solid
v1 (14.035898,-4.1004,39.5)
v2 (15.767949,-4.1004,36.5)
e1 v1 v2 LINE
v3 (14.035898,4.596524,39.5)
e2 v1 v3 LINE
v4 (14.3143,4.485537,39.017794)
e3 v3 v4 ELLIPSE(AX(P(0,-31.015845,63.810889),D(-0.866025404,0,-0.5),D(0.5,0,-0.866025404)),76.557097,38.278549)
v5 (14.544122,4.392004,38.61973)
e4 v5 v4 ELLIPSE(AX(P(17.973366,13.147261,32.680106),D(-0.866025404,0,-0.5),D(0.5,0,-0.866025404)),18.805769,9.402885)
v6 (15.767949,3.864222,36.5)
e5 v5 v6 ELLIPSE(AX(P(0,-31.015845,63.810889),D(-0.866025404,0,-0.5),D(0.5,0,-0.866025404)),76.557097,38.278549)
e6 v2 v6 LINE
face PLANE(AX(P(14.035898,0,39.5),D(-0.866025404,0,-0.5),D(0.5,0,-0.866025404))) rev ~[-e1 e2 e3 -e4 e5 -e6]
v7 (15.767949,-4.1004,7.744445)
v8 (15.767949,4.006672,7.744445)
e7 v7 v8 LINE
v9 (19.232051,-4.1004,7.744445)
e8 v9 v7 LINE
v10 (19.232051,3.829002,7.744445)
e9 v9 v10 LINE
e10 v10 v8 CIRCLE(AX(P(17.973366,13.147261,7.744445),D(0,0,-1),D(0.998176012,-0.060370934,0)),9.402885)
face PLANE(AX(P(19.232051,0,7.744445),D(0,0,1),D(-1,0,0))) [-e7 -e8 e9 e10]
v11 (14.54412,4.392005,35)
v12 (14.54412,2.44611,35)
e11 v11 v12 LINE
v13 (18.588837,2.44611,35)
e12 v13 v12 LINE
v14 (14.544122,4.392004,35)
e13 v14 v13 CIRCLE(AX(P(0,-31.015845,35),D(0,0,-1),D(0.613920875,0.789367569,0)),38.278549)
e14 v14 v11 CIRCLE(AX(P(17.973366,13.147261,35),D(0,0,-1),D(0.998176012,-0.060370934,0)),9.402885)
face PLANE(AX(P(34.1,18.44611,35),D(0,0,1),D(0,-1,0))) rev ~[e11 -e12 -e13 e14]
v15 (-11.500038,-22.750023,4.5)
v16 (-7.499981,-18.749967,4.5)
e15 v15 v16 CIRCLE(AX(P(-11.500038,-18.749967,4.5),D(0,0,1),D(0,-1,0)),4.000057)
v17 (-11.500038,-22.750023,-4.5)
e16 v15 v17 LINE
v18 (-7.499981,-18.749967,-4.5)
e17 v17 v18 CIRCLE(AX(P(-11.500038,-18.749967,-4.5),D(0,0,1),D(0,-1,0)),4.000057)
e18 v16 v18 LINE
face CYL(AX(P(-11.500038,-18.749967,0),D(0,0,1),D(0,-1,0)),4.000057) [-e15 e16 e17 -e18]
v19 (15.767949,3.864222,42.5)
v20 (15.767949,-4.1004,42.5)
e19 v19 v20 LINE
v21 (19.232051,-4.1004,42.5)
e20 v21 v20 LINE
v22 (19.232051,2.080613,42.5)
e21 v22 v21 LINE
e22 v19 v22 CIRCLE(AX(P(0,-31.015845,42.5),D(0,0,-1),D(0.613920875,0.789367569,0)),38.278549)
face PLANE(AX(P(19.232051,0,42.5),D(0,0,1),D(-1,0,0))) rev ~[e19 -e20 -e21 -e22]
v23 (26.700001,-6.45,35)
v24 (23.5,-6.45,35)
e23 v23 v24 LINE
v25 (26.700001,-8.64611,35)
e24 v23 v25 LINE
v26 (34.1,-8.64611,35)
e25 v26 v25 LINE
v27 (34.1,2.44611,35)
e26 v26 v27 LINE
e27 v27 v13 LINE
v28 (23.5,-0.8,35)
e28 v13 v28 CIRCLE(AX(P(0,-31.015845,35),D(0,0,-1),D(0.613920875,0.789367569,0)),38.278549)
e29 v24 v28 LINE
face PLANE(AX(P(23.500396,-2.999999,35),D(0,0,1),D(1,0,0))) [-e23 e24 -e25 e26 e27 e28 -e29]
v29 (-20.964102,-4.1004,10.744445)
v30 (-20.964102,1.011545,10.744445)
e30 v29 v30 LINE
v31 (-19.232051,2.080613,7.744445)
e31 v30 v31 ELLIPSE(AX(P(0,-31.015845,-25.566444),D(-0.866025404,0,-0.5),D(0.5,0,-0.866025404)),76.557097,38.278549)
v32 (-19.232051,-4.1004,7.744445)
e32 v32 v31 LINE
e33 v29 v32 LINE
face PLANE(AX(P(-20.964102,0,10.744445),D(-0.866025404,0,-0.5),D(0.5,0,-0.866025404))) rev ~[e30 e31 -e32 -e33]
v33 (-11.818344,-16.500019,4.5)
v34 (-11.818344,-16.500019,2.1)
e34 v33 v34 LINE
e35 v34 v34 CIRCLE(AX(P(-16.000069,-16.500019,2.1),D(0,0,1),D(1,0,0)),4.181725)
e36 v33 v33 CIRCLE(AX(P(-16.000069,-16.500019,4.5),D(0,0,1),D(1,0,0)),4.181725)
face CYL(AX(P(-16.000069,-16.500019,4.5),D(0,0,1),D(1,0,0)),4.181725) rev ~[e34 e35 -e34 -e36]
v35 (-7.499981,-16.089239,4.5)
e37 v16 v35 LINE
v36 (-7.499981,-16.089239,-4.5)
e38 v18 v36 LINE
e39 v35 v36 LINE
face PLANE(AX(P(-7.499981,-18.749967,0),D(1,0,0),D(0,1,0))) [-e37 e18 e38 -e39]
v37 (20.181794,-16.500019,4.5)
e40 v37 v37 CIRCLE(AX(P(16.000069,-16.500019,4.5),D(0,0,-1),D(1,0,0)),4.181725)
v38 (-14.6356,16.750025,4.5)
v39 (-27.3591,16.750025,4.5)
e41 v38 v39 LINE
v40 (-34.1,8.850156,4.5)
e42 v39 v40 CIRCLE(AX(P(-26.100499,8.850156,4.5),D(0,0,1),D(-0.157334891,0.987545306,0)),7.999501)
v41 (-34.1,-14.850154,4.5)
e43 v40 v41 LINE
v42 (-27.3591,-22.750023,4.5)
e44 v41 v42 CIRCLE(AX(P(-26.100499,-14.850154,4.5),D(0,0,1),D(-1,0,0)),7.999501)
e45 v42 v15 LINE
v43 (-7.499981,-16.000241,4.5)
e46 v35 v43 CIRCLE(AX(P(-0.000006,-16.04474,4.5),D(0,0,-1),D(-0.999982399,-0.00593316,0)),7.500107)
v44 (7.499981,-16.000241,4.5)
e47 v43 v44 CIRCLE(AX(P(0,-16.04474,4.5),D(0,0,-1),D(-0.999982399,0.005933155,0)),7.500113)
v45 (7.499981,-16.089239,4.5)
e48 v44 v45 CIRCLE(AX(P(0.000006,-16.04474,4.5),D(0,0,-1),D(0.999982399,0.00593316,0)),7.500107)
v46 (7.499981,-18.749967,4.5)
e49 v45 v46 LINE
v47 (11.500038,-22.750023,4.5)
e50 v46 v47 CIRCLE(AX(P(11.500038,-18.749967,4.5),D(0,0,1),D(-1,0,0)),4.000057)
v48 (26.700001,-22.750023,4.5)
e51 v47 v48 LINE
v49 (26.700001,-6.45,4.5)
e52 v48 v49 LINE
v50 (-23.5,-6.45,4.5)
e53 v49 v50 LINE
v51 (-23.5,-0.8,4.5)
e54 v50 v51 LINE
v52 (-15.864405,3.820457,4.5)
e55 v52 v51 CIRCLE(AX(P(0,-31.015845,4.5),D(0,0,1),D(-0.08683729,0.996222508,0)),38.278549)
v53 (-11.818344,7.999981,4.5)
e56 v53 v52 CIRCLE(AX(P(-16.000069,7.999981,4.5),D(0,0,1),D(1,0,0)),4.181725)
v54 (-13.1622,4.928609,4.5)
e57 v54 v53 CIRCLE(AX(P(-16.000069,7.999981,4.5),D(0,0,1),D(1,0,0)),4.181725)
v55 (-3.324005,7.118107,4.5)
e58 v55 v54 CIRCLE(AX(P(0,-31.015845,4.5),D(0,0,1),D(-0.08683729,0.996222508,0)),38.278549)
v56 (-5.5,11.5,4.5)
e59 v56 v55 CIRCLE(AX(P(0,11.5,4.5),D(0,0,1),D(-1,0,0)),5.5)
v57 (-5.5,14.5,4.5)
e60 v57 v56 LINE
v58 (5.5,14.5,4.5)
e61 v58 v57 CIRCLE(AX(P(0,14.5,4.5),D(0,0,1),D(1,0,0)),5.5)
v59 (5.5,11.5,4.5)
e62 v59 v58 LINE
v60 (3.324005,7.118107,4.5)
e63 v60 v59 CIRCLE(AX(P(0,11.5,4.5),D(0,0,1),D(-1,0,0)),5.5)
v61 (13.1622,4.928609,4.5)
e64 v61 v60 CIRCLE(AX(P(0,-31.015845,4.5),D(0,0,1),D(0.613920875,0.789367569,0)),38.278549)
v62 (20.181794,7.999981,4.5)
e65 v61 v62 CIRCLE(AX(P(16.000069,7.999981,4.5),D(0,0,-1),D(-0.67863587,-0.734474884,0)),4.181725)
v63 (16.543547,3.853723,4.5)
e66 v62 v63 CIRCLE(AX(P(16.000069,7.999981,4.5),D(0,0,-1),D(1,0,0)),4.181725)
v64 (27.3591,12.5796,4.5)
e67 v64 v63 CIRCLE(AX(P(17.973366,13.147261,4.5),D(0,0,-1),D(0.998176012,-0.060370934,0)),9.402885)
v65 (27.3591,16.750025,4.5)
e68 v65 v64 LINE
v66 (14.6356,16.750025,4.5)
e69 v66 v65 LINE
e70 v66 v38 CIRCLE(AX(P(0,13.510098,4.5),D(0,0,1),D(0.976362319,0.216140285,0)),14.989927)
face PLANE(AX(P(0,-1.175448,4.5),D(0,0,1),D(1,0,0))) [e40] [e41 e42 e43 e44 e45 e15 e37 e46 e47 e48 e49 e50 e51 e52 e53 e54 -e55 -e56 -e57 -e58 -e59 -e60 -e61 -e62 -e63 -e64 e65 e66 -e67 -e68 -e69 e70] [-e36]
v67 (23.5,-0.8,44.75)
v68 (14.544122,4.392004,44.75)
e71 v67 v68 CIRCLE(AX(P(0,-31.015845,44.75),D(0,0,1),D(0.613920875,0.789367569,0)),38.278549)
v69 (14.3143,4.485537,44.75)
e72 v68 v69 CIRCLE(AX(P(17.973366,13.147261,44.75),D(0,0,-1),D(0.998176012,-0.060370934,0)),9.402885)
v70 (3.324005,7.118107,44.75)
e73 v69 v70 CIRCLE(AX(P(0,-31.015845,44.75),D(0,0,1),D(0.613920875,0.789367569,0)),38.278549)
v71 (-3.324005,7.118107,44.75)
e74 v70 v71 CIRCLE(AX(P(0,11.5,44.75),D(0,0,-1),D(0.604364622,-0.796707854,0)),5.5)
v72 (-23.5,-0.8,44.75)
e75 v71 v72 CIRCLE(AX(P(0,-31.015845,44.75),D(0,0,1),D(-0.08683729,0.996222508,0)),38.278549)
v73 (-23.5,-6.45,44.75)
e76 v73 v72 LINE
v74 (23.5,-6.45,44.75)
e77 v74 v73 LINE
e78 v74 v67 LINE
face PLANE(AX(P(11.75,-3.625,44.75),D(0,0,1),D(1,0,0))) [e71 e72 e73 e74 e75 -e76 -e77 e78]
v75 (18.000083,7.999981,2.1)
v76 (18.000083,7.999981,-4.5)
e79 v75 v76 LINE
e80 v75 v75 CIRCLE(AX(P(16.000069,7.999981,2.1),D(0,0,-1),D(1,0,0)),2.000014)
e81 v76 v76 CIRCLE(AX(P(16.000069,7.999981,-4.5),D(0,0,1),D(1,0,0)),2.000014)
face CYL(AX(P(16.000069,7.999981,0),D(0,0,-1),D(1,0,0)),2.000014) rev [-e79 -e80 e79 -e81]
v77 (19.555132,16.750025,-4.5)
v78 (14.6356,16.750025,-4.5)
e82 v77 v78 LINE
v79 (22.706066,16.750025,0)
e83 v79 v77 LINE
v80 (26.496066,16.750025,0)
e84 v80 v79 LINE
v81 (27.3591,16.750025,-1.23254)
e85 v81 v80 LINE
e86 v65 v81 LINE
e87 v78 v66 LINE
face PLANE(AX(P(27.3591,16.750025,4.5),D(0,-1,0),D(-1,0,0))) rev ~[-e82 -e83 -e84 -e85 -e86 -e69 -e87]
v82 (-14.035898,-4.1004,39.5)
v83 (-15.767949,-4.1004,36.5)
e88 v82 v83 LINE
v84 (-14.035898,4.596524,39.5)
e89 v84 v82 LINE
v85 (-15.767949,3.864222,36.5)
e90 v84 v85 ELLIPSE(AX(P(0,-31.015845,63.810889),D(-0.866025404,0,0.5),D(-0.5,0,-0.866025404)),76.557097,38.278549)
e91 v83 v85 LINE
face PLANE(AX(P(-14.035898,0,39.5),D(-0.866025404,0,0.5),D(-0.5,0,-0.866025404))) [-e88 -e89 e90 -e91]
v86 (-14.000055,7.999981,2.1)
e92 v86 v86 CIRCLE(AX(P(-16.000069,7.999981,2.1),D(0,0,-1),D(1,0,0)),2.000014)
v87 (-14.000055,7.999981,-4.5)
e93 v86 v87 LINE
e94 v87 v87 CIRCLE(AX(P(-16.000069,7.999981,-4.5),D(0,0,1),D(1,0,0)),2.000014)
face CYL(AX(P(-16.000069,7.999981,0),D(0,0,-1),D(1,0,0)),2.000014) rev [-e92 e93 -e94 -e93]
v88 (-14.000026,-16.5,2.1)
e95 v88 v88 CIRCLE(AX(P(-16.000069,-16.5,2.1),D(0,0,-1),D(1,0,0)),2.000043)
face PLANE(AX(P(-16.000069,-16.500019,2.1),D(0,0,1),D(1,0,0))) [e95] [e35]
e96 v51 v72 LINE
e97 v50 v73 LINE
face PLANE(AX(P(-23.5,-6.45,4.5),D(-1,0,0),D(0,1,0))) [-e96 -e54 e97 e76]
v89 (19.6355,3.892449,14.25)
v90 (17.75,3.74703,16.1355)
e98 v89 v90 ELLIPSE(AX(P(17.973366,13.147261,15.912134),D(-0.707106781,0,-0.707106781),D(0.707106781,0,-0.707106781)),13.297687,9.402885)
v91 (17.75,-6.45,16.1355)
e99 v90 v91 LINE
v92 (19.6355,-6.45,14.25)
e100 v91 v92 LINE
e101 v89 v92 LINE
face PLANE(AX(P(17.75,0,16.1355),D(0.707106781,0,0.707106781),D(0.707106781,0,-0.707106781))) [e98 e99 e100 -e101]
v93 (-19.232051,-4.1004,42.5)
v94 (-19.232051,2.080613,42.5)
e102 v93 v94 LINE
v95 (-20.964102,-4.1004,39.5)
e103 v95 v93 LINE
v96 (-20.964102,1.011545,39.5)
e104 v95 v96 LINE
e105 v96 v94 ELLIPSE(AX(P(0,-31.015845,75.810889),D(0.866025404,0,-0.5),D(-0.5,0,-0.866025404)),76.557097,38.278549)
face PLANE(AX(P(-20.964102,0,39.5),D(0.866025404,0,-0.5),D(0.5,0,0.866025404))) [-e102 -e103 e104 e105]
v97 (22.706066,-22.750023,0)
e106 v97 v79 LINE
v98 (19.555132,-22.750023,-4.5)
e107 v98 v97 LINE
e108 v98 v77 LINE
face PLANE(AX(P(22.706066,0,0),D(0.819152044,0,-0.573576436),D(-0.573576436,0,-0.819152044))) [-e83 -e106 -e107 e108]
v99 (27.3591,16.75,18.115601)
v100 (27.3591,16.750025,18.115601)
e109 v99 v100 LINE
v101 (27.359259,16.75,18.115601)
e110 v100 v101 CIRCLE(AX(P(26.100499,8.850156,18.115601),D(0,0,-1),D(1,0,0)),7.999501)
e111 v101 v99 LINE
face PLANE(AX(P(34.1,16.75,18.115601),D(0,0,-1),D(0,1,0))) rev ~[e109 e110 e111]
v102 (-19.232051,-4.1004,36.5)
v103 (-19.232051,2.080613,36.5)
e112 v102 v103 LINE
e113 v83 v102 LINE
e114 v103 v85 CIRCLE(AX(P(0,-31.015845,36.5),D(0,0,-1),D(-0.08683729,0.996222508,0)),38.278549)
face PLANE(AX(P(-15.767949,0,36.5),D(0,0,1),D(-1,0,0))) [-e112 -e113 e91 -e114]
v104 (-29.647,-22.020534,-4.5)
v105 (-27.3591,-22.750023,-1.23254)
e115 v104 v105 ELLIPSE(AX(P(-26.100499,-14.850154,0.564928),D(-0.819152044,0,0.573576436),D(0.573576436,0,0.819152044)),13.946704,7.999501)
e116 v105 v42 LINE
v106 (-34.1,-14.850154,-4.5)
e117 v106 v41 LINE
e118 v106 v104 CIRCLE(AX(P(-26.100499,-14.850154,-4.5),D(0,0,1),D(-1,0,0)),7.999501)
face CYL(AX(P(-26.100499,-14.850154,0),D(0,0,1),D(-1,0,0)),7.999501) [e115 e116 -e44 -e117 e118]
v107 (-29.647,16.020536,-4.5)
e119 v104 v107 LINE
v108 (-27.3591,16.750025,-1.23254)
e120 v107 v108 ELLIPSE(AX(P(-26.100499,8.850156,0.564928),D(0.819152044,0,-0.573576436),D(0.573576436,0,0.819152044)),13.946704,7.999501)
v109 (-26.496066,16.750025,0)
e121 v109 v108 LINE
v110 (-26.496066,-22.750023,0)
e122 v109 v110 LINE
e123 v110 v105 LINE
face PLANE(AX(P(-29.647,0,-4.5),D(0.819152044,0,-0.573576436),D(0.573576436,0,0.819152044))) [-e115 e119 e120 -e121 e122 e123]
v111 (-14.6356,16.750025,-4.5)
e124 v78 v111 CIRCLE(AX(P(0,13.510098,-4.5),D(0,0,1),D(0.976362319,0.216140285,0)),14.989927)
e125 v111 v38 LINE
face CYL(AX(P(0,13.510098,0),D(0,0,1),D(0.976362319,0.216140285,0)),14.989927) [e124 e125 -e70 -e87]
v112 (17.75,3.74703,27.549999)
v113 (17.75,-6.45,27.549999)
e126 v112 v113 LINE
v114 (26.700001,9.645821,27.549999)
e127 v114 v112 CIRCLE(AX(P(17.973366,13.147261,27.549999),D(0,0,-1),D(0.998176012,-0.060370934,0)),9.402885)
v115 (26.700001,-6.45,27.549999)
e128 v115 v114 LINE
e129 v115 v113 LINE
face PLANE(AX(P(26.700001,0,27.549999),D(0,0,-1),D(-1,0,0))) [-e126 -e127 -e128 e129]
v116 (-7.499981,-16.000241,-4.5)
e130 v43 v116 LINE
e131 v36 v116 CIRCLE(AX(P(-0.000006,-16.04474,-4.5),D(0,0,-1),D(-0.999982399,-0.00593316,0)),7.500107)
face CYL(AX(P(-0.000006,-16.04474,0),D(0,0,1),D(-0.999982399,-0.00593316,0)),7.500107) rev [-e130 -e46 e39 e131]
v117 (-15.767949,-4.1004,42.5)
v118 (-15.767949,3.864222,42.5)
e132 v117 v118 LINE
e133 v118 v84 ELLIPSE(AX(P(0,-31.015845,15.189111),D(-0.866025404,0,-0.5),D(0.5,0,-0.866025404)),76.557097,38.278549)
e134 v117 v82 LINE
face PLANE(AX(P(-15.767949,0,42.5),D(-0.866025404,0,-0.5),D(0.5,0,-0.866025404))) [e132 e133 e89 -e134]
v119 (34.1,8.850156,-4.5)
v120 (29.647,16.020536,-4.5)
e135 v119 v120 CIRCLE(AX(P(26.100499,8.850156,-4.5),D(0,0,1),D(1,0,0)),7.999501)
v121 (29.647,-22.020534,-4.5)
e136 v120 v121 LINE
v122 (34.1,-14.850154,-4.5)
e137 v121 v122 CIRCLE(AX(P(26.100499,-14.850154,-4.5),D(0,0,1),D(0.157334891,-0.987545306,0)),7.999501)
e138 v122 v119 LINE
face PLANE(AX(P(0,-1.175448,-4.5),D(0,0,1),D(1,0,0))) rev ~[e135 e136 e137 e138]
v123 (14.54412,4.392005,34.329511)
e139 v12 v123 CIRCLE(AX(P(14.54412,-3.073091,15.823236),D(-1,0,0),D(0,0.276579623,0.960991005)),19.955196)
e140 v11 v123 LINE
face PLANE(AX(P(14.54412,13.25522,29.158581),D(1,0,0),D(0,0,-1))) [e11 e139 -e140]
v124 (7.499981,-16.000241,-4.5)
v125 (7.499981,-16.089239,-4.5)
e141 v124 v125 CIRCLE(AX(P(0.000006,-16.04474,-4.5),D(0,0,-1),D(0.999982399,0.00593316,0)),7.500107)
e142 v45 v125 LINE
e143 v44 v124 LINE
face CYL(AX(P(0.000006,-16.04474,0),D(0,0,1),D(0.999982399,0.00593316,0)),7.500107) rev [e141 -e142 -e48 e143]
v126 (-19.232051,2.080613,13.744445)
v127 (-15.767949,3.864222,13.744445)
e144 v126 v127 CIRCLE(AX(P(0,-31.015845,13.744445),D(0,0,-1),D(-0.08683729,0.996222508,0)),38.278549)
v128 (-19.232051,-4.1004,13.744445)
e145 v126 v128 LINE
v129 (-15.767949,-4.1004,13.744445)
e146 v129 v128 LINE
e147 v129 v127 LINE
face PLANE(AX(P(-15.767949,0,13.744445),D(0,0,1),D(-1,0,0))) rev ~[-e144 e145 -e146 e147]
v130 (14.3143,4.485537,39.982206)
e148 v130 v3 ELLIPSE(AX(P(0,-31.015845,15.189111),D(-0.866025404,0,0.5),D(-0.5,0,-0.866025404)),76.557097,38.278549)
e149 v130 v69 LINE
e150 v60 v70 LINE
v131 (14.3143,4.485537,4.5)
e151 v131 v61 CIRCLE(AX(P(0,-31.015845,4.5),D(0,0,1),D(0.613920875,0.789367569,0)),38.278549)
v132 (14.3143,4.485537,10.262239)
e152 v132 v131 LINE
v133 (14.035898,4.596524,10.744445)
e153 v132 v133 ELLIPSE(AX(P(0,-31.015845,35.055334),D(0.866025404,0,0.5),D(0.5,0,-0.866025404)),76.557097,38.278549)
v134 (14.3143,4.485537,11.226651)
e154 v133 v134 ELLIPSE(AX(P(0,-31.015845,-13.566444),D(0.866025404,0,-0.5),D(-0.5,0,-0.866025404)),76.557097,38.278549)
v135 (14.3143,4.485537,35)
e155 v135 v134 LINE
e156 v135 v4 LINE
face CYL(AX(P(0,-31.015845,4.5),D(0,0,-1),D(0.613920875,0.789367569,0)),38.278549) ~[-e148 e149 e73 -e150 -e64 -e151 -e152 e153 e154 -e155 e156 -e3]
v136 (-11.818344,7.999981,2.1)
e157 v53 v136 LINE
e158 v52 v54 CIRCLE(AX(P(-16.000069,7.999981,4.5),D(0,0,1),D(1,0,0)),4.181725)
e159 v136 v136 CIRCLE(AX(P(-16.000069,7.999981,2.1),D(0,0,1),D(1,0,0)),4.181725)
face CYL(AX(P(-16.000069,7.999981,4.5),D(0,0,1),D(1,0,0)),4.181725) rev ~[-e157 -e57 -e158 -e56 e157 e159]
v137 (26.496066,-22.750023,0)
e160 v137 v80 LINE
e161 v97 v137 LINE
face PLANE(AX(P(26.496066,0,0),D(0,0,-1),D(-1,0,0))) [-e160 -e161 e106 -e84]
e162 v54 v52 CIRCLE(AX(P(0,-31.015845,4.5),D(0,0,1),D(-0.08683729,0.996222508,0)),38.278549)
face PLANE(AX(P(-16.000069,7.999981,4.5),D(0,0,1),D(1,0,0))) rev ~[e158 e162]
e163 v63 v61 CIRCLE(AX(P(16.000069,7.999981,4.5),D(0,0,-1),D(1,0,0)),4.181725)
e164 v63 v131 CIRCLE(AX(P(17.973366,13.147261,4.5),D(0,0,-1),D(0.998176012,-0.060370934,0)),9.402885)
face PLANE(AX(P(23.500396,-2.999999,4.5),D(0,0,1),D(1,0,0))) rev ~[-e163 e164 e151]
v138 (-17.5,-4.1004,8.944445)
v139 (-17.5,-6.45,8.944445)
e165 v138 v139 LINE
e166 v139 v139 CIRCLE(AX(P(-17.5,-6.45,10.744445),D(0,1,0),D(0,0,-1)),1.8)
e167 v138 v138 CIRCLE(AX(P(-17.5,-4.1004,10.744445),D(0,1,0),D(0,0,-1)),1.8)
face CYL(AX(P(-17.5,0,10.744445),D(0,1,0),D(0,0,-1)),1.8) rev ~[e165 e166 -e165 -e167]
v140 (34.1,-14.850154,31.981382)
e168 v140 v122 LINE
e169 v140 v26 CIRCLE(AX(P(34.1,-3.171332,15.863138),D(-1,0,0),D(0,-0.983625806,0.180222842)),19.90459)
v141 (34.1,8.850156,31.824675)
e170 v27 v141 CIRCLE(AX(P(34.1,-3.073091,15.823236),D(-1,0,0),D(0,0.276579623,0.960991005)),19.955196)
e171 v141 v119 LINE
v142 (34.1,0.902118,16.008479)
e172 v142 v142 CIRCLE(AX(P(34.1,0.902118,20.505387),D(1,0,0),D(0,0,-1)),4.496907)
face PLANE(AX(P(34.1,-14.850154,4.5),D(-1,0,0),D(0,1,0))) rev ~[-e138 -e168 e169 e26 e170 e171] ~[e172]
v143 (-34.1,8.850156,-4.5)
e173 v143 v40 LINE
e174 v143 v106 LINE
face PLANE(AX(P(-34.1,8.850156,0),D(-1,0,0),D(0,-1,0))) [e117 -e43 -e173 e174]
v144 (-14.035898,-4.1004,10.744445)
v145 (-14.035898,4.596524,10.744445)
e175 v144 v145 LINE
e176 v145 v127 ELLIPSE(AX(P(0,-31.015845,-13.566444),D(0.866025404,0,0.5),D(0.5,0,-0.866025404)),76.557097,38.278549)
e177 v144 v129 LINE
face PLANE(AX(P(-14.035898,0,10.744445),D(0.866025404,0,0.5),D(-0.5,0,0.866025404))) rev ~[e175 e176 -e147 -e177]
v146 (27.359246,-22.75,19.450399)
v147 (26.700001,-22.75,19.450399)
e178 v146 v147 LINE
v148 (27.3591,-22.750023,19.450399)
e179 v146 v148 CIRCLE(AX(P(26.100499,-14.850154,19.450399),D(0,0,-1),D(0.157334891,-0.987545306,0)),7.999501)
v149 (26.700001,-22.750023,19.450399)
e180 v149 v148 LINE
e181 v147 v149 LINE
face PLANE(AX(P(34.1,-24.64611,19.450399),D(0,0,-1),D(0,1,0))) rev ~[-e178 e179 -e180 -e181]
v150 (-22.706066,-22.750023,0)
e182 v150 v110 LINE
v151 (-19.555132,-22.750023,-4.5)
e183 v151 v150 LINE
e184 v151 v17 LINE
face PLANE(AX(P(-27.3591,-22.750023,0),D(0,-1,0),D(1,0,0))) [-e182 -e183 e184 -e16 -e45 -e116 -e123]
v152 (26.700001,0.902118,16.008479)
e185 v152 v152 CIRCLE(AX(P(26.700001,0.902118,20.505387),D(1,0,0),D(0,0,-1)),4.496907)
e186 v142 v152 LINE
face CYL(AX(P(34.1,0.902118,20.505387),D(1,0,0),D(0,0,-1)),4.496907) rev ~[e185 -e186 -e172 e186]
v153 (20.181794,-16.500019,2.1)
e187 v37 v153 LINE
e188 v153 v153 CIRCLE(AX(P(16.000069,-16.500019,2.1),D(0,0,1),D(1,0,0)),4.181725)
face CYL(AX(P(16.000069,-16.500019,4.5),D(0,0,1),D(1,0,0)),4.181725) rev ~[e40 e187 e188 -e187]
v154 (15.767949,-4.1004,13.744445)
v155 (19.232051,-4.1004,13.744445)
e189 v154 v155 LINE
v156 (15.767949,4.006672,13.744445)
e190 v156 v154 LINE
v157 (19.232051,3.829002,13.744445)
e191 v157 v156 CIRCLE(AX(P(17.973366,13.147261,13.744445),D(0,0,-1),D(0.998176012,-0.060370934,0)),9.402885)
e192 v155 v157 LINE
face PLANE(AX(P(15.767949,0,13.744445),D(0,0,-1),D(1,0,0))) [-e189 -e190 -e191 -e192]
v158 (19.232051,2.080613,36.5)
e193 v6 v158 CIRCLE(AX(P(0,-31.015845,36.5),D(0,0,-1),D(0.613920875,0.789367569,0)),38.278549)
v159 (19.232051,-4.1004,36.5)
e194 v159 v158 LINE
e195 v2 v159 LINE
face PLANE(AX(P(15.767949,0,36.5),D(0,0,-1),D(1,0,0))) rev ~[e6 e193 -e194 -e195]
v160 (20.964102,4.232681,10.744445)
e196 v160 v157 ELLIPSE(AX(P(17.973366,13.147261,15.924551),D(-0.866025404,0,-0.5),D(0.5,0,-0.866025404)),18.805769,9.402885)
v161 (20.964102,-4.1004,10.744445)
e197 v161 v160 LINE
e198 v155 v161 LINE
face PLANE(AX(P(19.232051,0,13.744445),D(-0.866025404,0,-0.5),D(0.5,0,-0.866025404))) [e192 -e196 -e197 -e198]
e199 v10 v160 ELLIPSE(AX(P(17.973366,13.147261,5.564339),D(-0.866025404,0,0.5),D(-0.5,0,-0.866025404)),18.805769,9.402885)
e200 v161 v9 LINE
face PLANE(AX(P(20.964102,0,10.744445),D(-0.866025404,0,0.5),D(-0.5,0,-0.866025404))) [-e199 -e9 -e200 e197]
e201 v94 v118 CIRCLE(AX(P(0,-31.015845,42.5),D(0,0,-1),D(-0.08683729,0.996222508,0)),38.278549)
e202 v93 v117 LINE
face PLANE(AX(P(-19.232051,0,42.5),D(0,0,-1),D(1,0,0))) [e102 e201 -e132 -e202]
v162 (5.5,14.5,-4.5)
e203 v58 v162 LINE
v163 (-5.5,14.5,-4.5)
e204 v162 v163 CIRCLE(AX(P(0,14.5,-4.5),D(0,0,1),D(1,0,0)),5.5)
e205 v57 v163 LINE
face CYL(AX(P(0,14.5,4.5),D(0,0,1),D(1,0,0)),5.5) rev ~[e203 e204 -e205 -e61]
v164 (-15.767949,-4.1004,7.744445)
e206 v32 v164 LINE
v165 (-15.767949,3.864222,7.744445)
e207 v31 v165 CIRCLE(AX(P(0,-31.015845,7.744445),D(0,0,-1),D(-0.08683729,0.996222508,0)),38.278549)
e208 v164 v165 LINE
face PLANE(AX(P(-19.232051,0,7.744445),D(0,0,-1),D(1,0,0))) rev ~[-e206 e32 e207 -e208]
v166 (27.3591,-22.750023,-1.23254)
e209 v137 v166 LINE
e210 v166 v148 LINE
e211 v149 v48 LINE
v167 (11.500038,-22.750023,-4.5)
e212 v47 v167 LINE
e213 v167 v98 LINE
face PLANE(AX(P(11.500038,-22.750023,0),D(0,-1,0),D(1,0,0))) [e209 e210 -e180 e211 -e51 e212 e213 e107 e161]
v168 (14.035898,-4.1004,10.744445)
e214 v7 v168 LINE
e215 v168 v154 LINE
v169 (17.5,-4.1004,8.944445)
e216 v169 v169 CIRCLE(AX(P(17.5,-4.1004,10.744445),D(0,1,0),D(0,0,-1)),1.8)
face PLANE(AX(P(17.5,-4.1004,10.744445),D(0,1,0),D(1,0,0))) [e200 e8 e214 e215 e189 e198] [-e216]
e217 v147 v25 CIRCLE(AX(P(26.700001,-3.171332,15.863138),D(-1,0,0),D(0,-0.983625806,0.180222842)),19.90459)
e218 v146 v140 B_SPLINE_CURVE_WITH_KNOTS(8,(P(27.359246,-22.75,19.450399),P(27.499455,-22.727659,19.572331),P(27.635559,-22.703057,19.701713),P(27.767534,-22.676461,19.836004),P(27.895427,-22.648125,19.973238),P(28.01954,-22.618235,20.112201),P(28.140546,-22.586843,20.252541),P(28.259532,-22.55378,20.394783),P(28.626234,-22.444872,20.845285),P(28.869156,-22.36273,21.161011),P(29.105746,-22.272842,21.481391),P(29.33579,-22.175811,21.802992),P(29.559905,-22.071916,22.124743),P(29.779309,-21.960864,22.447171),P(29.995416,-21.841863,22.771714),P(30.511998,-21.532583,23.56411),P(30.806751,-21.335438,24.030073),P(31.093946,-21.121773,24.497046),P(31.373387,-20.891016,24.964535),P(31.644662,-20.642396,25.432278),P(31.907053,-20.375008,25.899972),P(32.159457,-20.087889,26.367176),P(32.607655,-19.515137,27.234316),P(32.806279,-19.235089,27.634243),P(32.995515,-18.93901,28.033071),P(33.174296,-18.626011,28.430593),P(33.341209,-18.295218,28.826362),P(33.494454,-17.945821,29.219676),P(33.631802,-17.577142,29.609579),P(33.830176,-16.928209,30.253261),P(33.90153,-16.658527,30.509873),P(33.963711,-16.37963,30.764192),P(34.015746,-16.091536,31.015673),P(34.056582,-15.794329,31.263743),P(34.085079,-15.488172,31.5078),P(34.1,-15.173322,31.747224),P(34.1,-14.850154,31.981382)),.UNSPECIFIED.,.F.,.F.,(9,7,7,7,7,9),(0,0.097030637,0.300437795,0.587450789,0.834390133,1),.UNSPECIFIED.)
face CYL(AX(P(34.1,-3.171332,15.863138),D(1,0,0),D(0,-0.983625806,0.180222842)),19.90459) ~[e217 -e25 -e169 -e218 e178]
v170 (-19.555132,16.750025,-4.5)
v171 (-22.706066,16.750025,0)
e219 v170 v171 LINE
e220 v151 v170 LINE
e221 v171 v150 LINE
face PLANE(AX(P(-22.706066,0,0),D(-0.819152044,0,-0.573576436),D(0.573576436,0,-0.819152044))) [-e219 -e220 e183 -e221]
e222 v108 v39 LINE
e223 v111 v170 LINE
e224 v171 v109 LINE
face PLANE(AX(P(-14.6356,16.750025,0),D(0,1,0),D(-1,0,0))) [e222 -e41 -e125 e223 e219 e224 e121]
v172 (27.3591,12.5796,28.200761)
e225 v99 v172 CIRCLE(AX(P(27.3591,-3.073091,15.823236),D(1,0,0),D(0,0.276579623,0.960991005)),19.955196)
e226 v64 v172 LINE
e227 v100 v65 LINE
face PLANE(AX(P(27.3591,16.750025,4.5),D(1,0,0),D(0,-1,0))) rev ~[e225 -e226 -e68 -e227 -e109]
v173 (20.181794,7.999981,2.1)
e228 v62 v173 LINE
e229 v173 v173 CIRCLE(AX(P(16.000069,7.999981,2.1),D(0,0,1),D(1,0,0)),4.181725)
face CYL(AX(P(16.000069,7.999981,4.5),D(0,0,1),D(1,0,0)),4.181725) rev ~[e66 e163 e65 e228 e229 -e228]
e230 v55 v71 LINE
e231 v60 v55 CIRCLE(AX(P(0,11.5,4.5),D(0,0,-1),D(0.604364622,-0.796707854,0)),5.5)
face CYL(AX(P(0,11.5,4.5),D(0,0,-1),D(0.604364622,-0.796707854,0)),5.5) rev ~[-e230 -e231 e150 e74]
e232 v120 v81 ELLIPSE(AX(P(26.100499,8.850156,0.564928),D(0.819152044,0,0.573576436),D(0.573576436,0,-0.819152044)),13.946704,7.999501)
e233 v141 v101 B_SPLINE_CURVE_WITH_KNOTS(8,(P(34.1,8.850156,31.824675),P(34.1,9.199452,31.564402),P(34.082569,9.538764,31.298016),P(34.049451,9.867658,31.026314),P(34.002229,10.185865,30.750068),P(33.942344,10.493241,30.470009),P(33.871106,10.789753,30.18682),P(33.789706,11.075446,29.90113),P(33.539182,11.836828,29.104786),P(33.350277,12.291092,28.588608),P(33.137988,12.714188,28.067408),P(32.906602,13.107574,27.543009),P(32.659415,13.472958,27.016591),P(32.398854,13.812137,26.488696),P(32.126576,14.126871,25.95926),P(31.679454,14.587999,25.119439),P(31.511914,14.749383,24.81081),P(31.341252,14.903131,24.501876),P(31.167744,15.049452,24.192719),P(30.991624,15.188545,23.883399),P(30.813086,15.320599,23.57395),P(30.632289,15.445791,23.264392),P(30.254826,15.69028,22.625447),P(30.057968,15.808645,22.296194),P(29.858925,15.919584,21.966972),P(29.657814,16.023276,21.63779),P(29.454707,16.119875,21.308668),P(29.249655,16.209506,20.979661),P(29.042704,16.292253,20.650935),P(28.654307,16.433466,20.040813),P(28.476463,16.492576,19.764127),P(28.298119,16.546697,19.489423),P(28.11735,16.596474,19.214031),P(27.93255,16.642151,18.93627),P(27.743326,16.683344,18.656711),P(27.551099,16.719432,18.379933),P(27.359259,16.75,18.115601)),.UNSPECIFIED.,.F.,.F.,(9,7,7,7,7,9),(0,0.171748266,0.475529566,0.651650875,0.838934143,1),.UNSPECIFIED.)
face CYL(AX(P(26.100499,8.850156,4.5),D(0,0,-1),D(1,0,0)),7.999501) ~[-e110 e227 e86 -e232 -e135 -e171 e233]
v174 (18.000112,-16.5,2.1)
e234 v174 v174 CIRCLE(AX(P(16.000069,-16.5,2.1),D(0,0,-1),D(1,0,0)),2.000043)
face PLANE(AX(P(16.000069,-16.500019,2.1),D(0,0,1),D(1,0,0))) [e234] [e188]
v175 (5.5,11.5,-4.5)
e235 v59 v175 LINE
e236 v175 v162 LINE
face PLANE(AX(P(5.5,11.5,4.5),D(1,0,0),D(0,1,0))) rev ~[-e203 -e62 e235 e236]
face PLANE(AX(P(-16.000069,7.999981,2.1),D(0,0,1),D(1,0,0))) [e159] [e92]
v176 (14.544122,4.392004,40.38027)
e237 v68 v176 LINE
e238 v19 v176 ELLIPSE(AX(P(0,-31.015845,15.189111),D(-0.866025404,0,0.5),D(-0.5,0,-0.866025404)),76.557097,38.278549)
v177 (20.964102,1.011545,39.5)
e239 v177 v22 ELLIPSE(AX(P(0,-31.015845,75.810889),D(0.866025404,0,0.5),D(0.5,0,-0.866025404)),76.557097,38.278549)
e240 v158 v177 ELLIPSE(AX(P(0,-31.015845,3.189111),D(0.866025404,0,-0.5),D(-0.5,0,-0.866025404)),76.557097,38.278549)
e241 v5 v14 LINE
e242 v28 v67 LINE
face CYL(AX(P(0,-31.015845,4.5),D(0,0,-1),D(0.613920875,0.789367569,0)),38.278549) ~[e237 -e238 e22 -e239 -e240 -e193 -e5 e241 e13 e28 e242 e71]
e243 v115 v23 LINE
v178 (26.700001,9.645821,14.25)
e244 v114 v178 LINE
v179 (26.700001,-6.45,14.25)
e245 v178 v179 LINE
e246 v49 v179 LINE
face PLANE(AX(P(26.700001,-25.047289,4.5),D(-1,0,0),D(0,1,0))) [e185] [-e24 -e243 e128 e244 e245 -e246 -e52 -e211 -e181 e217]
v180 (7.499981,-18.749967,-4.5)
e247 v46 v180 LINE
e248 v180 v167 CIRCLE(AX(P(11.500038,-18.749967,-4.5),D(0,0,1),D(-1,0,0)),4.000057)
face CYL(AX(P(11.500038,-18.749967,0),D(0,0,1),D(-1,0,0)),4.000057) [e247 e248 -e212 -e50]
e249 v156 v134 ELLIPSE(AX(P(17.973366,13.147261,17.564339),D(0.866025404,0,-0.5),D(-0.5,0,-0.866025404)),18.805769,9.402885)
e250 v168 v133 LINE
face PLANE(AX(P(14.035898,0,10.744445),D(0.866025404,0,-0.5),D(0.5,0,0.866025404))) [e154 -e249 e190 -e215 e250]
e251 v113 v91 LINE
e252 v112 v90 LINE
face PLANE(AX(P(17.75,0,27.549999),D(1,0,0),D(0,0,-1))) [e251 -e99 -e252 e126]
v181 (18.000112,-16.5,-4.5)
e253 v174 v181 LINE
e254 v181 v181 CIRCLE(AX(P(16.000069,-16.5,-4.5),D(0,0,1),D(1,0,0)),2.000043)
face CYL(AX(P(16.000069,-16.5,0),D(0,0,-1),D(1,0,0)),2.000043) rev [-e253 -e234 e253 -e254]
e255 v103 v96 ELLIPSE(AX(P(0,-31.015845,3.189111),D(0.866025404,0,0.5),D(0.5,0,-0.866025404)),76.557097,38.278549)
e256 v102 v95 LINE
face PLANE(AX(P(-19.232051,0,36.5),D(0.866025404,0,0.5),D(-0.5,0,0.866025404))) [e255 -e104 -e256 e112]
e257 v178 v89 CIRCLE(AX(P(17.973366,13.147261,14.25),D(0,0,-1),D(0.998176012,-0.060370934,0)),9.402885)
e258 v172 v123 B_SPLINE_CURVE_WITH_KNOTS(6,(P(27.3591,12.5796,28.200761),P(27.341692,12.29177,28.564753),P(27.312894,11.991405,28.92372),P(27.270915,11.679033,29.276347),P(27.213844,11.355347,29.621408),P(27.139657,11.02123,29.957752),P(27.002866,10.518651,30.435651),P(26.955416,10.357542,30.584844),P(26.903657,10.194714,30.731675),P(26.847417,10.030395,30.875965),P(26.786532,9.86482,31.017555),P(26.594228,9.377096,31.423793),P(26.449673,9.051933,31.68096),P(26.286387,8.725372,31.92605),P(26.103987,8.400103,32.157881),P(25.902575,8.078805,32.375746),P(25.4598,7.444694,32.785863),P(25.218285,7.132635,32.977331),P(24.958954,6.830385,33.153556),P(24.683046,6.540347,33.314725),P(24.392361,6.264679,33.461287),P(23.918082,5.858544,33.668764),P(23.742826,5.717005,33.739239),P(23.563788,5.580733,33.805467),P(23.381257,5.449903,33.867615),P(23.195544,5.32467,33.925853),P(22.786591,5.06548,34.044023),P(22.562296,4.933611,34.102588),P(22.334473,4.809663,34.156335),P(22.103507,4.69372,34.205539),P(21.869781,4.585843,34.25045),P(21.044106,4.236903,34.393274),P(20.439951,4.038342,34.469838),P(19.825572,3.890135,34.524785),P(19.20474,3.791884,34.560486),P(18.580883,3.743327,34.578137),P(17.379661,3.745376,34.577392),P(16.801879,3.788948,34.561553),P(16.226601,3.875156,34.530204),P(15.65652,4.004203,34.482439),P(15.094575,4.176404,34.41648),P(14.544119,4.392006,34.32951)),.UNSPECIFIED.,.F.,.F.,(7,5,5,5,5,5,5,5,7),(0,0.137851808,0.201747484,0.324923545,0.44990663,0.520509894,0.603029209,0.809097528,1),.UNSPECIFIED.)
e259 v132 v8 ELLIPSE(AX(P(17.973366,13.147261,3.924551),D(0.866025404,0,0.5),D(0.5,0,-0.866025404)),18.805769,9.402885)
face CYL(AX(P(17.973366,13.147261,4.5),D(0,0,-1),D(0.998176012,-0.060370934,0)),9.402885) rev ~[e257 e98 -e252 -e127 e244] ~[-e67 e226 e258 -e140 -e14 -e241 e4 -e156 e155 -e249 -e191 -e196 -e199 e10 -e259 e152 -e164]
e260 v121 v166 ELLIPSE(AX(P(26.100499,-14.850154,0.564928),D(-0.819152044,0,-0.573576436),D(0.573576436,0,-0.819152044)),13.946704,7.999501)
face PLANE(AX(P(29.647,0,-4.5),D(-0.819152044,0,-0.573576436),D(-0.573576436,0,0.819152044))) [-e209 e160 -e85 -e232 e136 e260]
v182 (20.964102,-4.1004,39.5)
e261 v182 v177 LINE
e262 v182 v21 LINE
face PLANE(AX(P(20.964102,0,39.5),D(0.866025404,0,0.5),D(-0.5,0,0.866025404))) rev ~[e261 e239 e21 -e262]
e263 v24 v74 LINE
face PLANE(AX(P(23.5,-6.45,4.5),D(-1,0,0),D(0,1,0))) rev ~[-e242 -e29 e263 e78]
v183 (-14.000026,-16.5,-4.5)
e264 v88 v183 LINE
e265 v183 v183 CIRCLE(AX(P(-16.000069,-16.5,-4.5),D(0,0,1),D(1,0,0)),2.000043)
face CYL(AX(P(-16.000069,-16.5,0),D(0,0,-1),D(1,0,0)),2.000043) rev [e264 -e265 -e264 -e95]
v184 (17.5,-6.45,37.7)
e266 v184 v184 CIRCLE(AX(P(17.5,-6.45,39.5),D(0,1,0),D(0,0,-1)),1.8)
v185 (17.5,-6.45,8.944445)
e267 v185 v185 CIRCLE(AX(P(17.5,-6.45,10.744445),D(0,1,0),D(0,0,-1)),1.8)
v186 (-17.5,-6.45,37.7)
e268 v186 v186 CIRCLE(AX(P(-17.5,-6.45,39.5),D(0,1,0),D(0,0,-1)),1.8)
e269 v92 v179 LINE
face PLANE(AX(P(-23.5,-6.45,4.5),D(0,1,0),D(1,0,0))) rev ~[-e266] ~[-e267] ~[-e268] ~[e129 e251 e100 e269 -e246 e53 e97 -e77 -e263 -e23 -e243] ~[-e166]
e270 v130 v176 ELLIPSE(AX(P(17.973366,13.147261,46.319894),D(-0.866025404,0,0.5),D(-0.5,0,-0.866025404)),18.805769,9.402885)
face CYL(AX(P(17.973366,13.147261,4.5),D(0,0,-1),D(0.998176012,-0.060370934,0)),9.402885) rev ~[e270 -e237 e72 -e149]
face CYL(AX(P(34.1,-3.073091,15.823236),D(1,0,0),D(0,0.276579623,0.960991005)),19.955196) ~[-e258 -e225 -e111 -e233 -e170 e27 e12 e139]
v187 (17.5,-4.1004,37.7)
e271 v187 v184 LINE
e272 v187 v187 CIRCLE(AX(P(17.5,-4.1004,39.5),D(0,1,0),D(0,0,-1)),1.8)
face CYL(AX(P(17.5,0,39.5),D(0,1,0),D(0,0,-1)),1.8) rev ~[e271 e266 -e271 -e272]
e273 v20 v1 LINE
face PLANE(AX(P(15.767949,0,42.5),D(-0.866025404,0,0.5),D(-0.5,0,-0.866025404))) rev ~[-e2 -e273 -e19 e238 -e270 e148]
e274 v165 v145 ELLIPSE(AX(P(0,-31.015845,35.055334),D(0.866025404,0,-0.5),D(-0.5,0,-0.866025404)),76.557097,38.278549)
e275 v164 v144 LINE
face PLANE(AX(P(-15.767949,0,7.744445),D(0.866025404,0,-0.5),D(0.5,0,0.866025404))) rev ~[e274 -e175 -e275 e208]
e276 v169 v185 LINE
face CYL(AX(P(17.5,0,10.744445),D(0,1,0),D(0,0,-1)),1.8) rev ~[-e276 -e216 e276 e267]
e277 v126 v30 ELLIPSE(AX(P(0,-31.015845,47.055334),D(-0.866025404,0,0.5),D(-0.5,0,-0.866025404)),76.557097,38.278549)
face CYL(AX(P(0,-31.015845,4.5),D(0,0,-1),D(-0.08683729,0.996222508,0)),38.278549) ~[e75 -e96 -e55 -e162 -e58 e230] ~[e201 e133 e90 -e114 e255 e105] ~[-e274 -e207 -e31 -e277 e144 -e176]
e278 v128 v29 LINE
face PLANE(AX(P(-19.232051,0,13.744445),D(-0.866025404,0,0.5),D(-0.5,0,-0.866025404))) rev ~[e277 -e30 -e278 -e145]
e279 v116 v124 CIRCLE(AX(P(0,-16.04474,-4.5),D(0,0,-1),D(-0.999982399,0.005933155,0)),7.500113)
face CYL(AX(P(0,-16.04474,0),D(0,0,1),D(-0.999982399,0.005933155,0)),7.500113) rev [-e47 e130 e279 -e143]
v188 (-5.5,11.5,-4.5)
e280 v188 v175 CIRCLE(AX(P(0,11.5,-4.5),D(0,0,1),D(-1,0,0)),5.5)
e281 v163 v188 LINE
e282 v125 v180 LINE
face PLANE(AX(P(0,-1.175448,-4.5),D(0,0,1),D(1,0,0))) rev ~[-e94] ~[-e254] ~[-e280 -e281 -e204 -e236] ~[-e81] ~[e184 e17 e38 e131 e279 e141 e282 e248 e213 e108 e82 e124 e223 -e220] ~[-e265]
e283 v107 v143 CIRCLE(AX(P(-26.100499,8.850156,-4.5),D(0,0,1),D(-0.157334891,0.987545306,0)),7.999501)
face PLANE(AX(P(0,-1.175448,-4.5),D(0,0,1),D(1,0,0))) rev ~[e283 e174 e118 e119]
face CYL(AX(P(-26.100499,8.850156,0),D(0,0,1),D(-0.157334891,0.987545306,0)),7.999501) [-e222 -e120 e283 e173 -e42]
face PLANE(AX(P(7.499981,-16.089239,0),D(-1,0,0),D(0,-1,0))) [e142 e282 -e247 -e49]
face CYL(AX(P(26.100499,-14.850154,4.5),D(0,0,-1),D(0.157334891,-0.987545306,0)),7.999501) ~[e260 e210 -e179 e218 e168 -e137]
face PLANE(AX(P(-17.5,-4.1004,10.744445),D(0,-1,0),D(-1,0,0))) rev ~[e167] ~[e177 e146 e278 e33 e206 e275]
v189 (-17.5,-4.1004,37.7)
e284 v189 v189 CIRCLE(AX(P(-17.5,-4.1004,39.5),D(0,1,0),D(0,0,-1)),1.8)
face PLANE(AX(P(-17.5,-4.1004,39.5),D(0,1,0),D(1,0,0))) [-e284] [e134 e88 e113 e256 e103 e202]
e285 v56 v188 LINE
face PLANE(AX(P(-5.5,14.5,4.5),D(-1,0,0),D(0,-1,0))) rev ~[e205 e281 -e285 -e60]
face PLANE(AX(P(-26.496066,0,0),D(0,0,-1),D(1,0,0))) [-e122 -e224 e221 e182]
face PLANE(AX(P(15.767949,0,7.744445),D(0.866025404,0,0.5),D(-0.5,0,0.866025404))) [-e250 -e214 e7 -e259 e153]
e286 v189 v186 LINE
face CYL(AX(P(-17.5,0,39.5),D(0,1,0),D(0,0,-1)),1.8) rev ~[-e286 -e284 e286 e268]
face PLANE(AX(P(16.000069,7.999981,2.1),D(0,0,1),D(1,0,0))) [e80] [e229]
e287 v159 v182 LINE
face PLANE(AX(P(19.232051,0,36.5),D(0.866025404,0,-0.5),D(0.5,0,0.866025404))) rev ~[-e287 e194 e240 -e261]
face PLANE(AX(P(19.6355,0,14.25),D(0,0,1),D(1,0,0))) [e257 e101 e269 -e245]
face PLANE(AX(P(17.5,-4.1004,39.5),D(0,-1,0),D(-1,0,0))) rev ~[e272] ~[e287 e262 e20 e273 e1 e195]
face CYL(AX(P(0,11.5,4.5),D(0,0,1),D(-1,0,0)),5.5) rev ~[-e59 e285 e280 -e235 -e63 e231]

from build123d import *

# Parameters (mm, degrees)
SKETCH1_R                = 2.000043321
SKETCH1_R_2              = 2.000014119
BOSS_EXTRUDE1_DEPTH      = 4.5
CUT_EXTRUDE2_DEPTH       = 46.343813751
SKETCH6_W                = 23.5
SKETCH6_H                = 5.65
BOSS_EXTRUDE2_DEPTH      = 40.25
SKETCH3_R                = 4.181725
CUT_EXTRUDE3_DEPTH       = 2.4
BOSS_EXTRUDE3_DEPTH      = 30.5
SKETCH21_W               = 12.385700762
SKETCH21_H               = 18.597289034
CUT_EXTRUDE16_DEPTH      = 60.959352444
CUT_EXTRUDE20_DEPTH      = 19.55588
CUT_EXTRUDE21_DEPTH      = 64.068406998
CUT_EXTRUDE21_DEPTH_BACK = 64.068406998
SKETCH9_7_R              = 1.8
CUT_EXTRUDE6_DEPTH       = 64.068406998
CUT_EXTRUDE6_DEPTH_BACK  = 4.1004
SKETCH9_R                = 1.8
CUT_EXTRUDE5_DEPTH       = 64.068406927
CUT_EXTRUDE5_DEPTH_BACK  = 64.068406927
SKETCH32_R               = 4.496907104
CUT_EXTRUDE28_DEPTH      = 7.399999239


with BuildPart() as part:
    # Sketch1 → Boss-Extrude1 (new, symmetric)
    with BuildSketch(Plane.XY):
        with BuildLine():
            ThreePointArc((27.3591, -22.750023286), (32.18573506, -20.04264062), (34.100000001, -14.850154064))
            Line((34.100000001, -14.850154064), (34.100000001, 8.850156137))
            ThreePointArc((34.100000001, 8.850156137), (32.18573506, 14.042642693), (27.3591, 16.750025358))
            Line((27.3591, 16.750025358), (14.6356, 16.750025358))
            ThreePointArc((14.6356, 16.750025358), (0, 28.500025358), (-14.6356, 16.750025358))
            Line((-14.6356, 16.750025358), (-27.3591, 16.750025358))
            ThreePointArc((-27.3591, 16.750025358), (-32.18573506, 14.042642693), (-34.100000001, 8.850156137))
            Line((-34.100000001, 8.850156137), (-34.100000001, -14.850154064))
            ThreePointArc((-34.100000001, -14.850154064), (-32.18573506, -20.04264062), (-27.3591, -22.750023286))
            Line((-27.3591, -22.750023286), (-11.500037792, -22.750023286))
            ThreePointArc((-11.500037792, -22.750023286), (-8.671570628, -21.578433826), (-7.499981167, -18.749966661))
            Line((-7.499981167, -18.749966661), (-7.499981167, -16.089239323))
            ThreePointArc((-7.499981167, -16.089239323), (-7.500113179, -16.044739987), (-7.499981167, -16.000240651))
            ThreePointArc((-7.499981167, -16.000240651), (0, -8.544626807), (7.499981167, -16.000240651))
            ThreePointArc((7.499981167, -16.000240651), (7.500113179, -16.044739987), (7.499981167, -16.089239323))
            Line((7.499981167, -16.089239323), (7.499981167, -18.749966661))
            ThreePointArc((7.499981167, -18.749966661), (8.671570628, -21.578433826), (11.500037792, -22.750023286))
            Line((11.500037792, -22.750023286), (27.3591, -22.750023286))
        make_face()
        with Locations((-16.000068831, -16.5)):
            Circle(SKETCH1_R, mode=Mode.SUBTRACT)
        with Locations((16.000068831, -16.5)):
            Circle(SKETCH1_R, mode=Mode.SUBTRACT)
        with Locations((-16.000068831, 7.999981023)):
            Circle(SKETCH1_R_2, mode=Mode.SUBTRACT)
        with Locations((16.000068831, 7.999981023)):
            Circle(SKETCH1_R_2, mode=Mode.SUBTRACT)
    extrude(amount=BOSS_EXTRUDE1_DEPTH, both=True)

    # Sketch4 → Cut-Extrude2 (cut, through all)
    with BuildSketch(Plane.XY.offset(4.5)):
        with BuildLine():
            Line((5.5, 11.5), (5.5, 14.5))
            ThreePointArc((5.5, 14.5), (0, 20), (-5.5, 14.5))
            Line((-5.5, 14.5), (-5.5, 11.5))
            ThreePointArc((-5.5, 11.5), (0, 6), (5.5, 11.5))
        make_face()
    extrude(amount=-CUT_EXTRUDE2_DEPTH, mode=Mode.SUBTRACT)

    # Sketch6 → Boss-Extrude2 (add)
    with BuildSketch(Plane.XY.offset(4.5)):
        with Locations((11.75, -3.625)):
            Rectangle(SKETCH6_W, SKETCH6_H)
        with Locations((-11.75, -3.625)):
            Rectangle(SKETCH6_W, SKETCH6_H)
        with BuildLine():
            Line((0, -0.8), (23.5, -0.8))
            ThreePointArc((23.5, -0.8), (13.984131025, 4.616883926), (3.324005419, 7.118106805))
            ThreePointArc((3.324005419, 7.118106805), (0, 6), (-3.324005419, 7.118106805))
            ThreePointArc((-3.324005419, 7.118106805), (-13.984131025, 4.616883926), (-23.5, -0.8))
            Line((-23.5, -0.8), (0, -0.8))
        make_face()
    extrude(amount=BOSS_EXTRUDE2_DEPTH)

    # Sketch3 → Cut-Extrude3 (cut)
    with BuildSketch(Plane.XY.offset(4.5)):
        with Locations((-16.000068831, 7.999981023)):
            Circle(SKETCH3_R)
        with Locations((16.000068831, 7.999981023)):
            Circle(SKETCH3_R)
        with Locations((16.000068831, -16.500018977)):
            Circle(SKETCH3_R)
        with Locations((-16.000068831, -16.500018977)):
            Circle(SKETCH3_R)
    extrude(amount=-CUT_EXTRUDE3_DEPTH, mode=Mode.SUBTRACT)

    # Sketch15 → Boss-Extrude3 (add)
    with BuildSketch(Plane.XY.offset(4.5)):
        with BuildLine():
            Line((14.314300001, 16.750025358), (14.314300001, -22.750023286))
            Line((14.314300001, -22.750023286), (27.3591, -22.750023286))
            ThreePointArc((27.3591, -22.750023286), (32.18573506, -20.04264062), (34.100000001, -14.850154064))
            Line((34.100000001, -14.850154064), (34.100000001, 8.850156137))
            ThreePointArc((34.100000001, 8.850156137), (32.18573506, 14.042642693), (27.3591, 16.750025358))
            Line((27.3591, 16.750025358), (14.314300001, 16.750025358))
        make_face()
    extrude(amount=BOSS_EXTRUDE3_DEPTH)

    # Sketch21 → Cut-Extrude16 (cut, through all)
    with BuildSketch(Plane.XY.offset(4.5)):
        with Locations((20.507150382, -15.748644517)):
            Rectangle(SKETCH21_W, SKETCH21_H)
        with BuildLine():
            ThreePointArc((27.3591, 12.579600334), (22.93090056, 5.157449584), (14.314300001, 4.485536757))
            Line((14.314300001, 4.485536757), (14.314300001, 16.750025358))
            Line((14.314300001, 16.750025358), (27.3591, 16.750025358))
            Line((27.3591, 16.750025358), (27.3591, 12.579600334))
        make_face()
    extrude(amount=CUT_EXTRUDE16_DEPTH, mode=Mode.SUBTRACT)

    # Sketch22 → Cut-Extrude20 (cut)
    with BuildSketch(Plane(origin=(34.100000001, 0, 0), x_dir=(0, 0, -1), z_dir=(1, 0, 0))):
        with BuildLine():
            Line((-35, 18.44611001), (-35, 2.44611001))
            ThreePointArc((-35, 2.44611001), (-28.722119173, 12.152830277), (-18.115600586, 16.75))
            Line((-18.115600586, 16.75), (-18.115600586, 18.44611001))
            Line((-18.115600586, 18.44611001), (-35, 18.44611001))
        make_face()
        with BuildLine():
            ThreePointArc((-19.450399399, -22.75), (-29.235735953, -17.914679764), (-35, -8.646109581))
            Line((-35, -8.646109581), (-35, -24.646109581))
            Line((-35, -24.646109581), (-19.450399399, -24.646109581))
            Line((-19.450399399, -24.646109581), (-19.450399399, -22.75))
        make_face()
    extrude(amount=-CUT_EXTRUDE20_DEPTH, mode=Mode.SUBTRACT)

    # Sketch24 → Cut-Extrude21 (cut, two sides)
    with BuildSketch(Plane(origin=(0, 0, 0), x_dir=(1, 0, 0), z_dir=(0, 1, 0))) as cut_extrude21_sk:
        Polygon((17.75, -16.135499954), (19.635499954, -14.25), (26.700000763, -14.25), (26.700000763, -27.549999237), (17.75, -27.549999237), align=None)
    extrude(amount=CUT_EXTRUDE21_DEPTH, mode=Mode.SUBTRACT)
    extrude(cut_extrude21_sk.sketch, amount=-CUT_EXTRUDE21_DEPTH_BACK, mode=Mode.SUBTRACT)

    # Sketch9<7> → Cut-Extrude6 (cut, two sides)
    with BuildSketch(Plane(origin=(0, 0, 0), x_dir=(1, 0, 0), z_dir=(0, 1, 0))) as cut_extrude6_sk:
        Polygon((-14.035898385, -39.5), (-15.767949192, -36.5), (-19.232050808, -36.5), (-20.964101615, -39.5), (-19.232050808, -42.5), (-15.767949192, -42.5), align=None)
        with Locations(Location((-17.5, -39.5, 0), (0, 0, 90))):
            Circle(SKETCH9_7_R, mode=Mode.SUBTRACT)
        Polygon((15.767949192, -36.5), (19.232050808, -36.5), (20.964101615, -39.5), (19.232050808, -42.5), (15.767949192, -42.5), (14.035898385, -39.5), align=None)
        with Locations(Location((17.5, -39.5, 0), (0, 0, 90))):
            Circle(SKETCH9_7_R, mode=Mode.SUBTRACT)
        Polygon((14.035898385, -10.744445), (15.767949192, -13.744445), (19.232050808, -13.744445), (20.964101615, -10.744445), (19.232050808, -7.744445), (15.767949192, -7.744445), align=None)
        with Locations(Location((17.5, -10.744445, 0), (0, 0, 90))):
            Circle(SKETCH9_7_R, mode=Mode.SUBTRACT)
        Polygon((-15.767949192, -13.744445), (-19.232050808, -13.744445), (-20.964101615, -10.744445), (-19.232050808, -7.744445), (-15.767949192, -7.744445), (-14.035898385, -10.744445), align=None)
        with Locations(Location((-17.5, -10.744445, 0), (0, 0, 90))):
            Circle(SKETCH9_7_R, mode=Mode.SUBTRACT)
    extrude(amount=CUT_EXTRUDE6_DEPTH, mode=Mode.SUBTRACT)
    extrude(cut_extrude6_sk.sketch, amount=-CUT_EXTRUDE6_DEPTH_BACK, mode=Mode.SUBTRACT)

    # Sketch9 → Cut-Extrude5 (cut, two sides)
    with BuildSketch(Plane(origin=(0, 0, 0), x_dir=(1, 0, 0), z_dir=(0, 1, 0))) as cut_extrude5_sk:
        with Locations(Location((-17.5, -39.5, 0), (0, 0, 90))):
            Circle(SKETCH9_R)
        with Locations(Location((17.5, -39.5, 0), (0, 0, 90))):
            Circle(SKETCH9_R)
        with Locations(Location((-17.5, -10.744445, 0), (0, 0, 90))):
            Circle(SKETCH9_R)
        Polygon((-22.70606608, 0), (-19.555132158, 4.5), (-29.647000001, 4.5), (-26.49606608, 0), align=None)
        Polygon((19.555132158, 4.5), (29.647000001, 4.5), (26.49606608, 0), (22.70606608, 0), align=None)
        with Locations(Location((17.5, -10.744445, 0), (0, 0, 90))):
            Circle(SKETCH9_R)
    extrude(amount=CUT_EXTRUDE5_DEPTH, mode=Mode.SUBTRACT)
    extrude(cut_extrude5_sk.sketch, amount=-CUT_EXTRUDE5_DEPTH_BACK, mode=Mode.SUBTRACT)

    # Sketch32 → Cut-Extrude28 (cut)
    with BuildSketch(Plane(origin=(34.100000001, 0, 0), x_dir=(0, 0, -1), z_dir=(1, 0, 0))):
        with Locations((-20.505386522, 0.902118416)):
            Circle(SKETCH32_R)
    extrude(amount=-CUT_EXTRUDE28_DEPTH, mode=Mode.SUBTRACT)


solid = part.part
